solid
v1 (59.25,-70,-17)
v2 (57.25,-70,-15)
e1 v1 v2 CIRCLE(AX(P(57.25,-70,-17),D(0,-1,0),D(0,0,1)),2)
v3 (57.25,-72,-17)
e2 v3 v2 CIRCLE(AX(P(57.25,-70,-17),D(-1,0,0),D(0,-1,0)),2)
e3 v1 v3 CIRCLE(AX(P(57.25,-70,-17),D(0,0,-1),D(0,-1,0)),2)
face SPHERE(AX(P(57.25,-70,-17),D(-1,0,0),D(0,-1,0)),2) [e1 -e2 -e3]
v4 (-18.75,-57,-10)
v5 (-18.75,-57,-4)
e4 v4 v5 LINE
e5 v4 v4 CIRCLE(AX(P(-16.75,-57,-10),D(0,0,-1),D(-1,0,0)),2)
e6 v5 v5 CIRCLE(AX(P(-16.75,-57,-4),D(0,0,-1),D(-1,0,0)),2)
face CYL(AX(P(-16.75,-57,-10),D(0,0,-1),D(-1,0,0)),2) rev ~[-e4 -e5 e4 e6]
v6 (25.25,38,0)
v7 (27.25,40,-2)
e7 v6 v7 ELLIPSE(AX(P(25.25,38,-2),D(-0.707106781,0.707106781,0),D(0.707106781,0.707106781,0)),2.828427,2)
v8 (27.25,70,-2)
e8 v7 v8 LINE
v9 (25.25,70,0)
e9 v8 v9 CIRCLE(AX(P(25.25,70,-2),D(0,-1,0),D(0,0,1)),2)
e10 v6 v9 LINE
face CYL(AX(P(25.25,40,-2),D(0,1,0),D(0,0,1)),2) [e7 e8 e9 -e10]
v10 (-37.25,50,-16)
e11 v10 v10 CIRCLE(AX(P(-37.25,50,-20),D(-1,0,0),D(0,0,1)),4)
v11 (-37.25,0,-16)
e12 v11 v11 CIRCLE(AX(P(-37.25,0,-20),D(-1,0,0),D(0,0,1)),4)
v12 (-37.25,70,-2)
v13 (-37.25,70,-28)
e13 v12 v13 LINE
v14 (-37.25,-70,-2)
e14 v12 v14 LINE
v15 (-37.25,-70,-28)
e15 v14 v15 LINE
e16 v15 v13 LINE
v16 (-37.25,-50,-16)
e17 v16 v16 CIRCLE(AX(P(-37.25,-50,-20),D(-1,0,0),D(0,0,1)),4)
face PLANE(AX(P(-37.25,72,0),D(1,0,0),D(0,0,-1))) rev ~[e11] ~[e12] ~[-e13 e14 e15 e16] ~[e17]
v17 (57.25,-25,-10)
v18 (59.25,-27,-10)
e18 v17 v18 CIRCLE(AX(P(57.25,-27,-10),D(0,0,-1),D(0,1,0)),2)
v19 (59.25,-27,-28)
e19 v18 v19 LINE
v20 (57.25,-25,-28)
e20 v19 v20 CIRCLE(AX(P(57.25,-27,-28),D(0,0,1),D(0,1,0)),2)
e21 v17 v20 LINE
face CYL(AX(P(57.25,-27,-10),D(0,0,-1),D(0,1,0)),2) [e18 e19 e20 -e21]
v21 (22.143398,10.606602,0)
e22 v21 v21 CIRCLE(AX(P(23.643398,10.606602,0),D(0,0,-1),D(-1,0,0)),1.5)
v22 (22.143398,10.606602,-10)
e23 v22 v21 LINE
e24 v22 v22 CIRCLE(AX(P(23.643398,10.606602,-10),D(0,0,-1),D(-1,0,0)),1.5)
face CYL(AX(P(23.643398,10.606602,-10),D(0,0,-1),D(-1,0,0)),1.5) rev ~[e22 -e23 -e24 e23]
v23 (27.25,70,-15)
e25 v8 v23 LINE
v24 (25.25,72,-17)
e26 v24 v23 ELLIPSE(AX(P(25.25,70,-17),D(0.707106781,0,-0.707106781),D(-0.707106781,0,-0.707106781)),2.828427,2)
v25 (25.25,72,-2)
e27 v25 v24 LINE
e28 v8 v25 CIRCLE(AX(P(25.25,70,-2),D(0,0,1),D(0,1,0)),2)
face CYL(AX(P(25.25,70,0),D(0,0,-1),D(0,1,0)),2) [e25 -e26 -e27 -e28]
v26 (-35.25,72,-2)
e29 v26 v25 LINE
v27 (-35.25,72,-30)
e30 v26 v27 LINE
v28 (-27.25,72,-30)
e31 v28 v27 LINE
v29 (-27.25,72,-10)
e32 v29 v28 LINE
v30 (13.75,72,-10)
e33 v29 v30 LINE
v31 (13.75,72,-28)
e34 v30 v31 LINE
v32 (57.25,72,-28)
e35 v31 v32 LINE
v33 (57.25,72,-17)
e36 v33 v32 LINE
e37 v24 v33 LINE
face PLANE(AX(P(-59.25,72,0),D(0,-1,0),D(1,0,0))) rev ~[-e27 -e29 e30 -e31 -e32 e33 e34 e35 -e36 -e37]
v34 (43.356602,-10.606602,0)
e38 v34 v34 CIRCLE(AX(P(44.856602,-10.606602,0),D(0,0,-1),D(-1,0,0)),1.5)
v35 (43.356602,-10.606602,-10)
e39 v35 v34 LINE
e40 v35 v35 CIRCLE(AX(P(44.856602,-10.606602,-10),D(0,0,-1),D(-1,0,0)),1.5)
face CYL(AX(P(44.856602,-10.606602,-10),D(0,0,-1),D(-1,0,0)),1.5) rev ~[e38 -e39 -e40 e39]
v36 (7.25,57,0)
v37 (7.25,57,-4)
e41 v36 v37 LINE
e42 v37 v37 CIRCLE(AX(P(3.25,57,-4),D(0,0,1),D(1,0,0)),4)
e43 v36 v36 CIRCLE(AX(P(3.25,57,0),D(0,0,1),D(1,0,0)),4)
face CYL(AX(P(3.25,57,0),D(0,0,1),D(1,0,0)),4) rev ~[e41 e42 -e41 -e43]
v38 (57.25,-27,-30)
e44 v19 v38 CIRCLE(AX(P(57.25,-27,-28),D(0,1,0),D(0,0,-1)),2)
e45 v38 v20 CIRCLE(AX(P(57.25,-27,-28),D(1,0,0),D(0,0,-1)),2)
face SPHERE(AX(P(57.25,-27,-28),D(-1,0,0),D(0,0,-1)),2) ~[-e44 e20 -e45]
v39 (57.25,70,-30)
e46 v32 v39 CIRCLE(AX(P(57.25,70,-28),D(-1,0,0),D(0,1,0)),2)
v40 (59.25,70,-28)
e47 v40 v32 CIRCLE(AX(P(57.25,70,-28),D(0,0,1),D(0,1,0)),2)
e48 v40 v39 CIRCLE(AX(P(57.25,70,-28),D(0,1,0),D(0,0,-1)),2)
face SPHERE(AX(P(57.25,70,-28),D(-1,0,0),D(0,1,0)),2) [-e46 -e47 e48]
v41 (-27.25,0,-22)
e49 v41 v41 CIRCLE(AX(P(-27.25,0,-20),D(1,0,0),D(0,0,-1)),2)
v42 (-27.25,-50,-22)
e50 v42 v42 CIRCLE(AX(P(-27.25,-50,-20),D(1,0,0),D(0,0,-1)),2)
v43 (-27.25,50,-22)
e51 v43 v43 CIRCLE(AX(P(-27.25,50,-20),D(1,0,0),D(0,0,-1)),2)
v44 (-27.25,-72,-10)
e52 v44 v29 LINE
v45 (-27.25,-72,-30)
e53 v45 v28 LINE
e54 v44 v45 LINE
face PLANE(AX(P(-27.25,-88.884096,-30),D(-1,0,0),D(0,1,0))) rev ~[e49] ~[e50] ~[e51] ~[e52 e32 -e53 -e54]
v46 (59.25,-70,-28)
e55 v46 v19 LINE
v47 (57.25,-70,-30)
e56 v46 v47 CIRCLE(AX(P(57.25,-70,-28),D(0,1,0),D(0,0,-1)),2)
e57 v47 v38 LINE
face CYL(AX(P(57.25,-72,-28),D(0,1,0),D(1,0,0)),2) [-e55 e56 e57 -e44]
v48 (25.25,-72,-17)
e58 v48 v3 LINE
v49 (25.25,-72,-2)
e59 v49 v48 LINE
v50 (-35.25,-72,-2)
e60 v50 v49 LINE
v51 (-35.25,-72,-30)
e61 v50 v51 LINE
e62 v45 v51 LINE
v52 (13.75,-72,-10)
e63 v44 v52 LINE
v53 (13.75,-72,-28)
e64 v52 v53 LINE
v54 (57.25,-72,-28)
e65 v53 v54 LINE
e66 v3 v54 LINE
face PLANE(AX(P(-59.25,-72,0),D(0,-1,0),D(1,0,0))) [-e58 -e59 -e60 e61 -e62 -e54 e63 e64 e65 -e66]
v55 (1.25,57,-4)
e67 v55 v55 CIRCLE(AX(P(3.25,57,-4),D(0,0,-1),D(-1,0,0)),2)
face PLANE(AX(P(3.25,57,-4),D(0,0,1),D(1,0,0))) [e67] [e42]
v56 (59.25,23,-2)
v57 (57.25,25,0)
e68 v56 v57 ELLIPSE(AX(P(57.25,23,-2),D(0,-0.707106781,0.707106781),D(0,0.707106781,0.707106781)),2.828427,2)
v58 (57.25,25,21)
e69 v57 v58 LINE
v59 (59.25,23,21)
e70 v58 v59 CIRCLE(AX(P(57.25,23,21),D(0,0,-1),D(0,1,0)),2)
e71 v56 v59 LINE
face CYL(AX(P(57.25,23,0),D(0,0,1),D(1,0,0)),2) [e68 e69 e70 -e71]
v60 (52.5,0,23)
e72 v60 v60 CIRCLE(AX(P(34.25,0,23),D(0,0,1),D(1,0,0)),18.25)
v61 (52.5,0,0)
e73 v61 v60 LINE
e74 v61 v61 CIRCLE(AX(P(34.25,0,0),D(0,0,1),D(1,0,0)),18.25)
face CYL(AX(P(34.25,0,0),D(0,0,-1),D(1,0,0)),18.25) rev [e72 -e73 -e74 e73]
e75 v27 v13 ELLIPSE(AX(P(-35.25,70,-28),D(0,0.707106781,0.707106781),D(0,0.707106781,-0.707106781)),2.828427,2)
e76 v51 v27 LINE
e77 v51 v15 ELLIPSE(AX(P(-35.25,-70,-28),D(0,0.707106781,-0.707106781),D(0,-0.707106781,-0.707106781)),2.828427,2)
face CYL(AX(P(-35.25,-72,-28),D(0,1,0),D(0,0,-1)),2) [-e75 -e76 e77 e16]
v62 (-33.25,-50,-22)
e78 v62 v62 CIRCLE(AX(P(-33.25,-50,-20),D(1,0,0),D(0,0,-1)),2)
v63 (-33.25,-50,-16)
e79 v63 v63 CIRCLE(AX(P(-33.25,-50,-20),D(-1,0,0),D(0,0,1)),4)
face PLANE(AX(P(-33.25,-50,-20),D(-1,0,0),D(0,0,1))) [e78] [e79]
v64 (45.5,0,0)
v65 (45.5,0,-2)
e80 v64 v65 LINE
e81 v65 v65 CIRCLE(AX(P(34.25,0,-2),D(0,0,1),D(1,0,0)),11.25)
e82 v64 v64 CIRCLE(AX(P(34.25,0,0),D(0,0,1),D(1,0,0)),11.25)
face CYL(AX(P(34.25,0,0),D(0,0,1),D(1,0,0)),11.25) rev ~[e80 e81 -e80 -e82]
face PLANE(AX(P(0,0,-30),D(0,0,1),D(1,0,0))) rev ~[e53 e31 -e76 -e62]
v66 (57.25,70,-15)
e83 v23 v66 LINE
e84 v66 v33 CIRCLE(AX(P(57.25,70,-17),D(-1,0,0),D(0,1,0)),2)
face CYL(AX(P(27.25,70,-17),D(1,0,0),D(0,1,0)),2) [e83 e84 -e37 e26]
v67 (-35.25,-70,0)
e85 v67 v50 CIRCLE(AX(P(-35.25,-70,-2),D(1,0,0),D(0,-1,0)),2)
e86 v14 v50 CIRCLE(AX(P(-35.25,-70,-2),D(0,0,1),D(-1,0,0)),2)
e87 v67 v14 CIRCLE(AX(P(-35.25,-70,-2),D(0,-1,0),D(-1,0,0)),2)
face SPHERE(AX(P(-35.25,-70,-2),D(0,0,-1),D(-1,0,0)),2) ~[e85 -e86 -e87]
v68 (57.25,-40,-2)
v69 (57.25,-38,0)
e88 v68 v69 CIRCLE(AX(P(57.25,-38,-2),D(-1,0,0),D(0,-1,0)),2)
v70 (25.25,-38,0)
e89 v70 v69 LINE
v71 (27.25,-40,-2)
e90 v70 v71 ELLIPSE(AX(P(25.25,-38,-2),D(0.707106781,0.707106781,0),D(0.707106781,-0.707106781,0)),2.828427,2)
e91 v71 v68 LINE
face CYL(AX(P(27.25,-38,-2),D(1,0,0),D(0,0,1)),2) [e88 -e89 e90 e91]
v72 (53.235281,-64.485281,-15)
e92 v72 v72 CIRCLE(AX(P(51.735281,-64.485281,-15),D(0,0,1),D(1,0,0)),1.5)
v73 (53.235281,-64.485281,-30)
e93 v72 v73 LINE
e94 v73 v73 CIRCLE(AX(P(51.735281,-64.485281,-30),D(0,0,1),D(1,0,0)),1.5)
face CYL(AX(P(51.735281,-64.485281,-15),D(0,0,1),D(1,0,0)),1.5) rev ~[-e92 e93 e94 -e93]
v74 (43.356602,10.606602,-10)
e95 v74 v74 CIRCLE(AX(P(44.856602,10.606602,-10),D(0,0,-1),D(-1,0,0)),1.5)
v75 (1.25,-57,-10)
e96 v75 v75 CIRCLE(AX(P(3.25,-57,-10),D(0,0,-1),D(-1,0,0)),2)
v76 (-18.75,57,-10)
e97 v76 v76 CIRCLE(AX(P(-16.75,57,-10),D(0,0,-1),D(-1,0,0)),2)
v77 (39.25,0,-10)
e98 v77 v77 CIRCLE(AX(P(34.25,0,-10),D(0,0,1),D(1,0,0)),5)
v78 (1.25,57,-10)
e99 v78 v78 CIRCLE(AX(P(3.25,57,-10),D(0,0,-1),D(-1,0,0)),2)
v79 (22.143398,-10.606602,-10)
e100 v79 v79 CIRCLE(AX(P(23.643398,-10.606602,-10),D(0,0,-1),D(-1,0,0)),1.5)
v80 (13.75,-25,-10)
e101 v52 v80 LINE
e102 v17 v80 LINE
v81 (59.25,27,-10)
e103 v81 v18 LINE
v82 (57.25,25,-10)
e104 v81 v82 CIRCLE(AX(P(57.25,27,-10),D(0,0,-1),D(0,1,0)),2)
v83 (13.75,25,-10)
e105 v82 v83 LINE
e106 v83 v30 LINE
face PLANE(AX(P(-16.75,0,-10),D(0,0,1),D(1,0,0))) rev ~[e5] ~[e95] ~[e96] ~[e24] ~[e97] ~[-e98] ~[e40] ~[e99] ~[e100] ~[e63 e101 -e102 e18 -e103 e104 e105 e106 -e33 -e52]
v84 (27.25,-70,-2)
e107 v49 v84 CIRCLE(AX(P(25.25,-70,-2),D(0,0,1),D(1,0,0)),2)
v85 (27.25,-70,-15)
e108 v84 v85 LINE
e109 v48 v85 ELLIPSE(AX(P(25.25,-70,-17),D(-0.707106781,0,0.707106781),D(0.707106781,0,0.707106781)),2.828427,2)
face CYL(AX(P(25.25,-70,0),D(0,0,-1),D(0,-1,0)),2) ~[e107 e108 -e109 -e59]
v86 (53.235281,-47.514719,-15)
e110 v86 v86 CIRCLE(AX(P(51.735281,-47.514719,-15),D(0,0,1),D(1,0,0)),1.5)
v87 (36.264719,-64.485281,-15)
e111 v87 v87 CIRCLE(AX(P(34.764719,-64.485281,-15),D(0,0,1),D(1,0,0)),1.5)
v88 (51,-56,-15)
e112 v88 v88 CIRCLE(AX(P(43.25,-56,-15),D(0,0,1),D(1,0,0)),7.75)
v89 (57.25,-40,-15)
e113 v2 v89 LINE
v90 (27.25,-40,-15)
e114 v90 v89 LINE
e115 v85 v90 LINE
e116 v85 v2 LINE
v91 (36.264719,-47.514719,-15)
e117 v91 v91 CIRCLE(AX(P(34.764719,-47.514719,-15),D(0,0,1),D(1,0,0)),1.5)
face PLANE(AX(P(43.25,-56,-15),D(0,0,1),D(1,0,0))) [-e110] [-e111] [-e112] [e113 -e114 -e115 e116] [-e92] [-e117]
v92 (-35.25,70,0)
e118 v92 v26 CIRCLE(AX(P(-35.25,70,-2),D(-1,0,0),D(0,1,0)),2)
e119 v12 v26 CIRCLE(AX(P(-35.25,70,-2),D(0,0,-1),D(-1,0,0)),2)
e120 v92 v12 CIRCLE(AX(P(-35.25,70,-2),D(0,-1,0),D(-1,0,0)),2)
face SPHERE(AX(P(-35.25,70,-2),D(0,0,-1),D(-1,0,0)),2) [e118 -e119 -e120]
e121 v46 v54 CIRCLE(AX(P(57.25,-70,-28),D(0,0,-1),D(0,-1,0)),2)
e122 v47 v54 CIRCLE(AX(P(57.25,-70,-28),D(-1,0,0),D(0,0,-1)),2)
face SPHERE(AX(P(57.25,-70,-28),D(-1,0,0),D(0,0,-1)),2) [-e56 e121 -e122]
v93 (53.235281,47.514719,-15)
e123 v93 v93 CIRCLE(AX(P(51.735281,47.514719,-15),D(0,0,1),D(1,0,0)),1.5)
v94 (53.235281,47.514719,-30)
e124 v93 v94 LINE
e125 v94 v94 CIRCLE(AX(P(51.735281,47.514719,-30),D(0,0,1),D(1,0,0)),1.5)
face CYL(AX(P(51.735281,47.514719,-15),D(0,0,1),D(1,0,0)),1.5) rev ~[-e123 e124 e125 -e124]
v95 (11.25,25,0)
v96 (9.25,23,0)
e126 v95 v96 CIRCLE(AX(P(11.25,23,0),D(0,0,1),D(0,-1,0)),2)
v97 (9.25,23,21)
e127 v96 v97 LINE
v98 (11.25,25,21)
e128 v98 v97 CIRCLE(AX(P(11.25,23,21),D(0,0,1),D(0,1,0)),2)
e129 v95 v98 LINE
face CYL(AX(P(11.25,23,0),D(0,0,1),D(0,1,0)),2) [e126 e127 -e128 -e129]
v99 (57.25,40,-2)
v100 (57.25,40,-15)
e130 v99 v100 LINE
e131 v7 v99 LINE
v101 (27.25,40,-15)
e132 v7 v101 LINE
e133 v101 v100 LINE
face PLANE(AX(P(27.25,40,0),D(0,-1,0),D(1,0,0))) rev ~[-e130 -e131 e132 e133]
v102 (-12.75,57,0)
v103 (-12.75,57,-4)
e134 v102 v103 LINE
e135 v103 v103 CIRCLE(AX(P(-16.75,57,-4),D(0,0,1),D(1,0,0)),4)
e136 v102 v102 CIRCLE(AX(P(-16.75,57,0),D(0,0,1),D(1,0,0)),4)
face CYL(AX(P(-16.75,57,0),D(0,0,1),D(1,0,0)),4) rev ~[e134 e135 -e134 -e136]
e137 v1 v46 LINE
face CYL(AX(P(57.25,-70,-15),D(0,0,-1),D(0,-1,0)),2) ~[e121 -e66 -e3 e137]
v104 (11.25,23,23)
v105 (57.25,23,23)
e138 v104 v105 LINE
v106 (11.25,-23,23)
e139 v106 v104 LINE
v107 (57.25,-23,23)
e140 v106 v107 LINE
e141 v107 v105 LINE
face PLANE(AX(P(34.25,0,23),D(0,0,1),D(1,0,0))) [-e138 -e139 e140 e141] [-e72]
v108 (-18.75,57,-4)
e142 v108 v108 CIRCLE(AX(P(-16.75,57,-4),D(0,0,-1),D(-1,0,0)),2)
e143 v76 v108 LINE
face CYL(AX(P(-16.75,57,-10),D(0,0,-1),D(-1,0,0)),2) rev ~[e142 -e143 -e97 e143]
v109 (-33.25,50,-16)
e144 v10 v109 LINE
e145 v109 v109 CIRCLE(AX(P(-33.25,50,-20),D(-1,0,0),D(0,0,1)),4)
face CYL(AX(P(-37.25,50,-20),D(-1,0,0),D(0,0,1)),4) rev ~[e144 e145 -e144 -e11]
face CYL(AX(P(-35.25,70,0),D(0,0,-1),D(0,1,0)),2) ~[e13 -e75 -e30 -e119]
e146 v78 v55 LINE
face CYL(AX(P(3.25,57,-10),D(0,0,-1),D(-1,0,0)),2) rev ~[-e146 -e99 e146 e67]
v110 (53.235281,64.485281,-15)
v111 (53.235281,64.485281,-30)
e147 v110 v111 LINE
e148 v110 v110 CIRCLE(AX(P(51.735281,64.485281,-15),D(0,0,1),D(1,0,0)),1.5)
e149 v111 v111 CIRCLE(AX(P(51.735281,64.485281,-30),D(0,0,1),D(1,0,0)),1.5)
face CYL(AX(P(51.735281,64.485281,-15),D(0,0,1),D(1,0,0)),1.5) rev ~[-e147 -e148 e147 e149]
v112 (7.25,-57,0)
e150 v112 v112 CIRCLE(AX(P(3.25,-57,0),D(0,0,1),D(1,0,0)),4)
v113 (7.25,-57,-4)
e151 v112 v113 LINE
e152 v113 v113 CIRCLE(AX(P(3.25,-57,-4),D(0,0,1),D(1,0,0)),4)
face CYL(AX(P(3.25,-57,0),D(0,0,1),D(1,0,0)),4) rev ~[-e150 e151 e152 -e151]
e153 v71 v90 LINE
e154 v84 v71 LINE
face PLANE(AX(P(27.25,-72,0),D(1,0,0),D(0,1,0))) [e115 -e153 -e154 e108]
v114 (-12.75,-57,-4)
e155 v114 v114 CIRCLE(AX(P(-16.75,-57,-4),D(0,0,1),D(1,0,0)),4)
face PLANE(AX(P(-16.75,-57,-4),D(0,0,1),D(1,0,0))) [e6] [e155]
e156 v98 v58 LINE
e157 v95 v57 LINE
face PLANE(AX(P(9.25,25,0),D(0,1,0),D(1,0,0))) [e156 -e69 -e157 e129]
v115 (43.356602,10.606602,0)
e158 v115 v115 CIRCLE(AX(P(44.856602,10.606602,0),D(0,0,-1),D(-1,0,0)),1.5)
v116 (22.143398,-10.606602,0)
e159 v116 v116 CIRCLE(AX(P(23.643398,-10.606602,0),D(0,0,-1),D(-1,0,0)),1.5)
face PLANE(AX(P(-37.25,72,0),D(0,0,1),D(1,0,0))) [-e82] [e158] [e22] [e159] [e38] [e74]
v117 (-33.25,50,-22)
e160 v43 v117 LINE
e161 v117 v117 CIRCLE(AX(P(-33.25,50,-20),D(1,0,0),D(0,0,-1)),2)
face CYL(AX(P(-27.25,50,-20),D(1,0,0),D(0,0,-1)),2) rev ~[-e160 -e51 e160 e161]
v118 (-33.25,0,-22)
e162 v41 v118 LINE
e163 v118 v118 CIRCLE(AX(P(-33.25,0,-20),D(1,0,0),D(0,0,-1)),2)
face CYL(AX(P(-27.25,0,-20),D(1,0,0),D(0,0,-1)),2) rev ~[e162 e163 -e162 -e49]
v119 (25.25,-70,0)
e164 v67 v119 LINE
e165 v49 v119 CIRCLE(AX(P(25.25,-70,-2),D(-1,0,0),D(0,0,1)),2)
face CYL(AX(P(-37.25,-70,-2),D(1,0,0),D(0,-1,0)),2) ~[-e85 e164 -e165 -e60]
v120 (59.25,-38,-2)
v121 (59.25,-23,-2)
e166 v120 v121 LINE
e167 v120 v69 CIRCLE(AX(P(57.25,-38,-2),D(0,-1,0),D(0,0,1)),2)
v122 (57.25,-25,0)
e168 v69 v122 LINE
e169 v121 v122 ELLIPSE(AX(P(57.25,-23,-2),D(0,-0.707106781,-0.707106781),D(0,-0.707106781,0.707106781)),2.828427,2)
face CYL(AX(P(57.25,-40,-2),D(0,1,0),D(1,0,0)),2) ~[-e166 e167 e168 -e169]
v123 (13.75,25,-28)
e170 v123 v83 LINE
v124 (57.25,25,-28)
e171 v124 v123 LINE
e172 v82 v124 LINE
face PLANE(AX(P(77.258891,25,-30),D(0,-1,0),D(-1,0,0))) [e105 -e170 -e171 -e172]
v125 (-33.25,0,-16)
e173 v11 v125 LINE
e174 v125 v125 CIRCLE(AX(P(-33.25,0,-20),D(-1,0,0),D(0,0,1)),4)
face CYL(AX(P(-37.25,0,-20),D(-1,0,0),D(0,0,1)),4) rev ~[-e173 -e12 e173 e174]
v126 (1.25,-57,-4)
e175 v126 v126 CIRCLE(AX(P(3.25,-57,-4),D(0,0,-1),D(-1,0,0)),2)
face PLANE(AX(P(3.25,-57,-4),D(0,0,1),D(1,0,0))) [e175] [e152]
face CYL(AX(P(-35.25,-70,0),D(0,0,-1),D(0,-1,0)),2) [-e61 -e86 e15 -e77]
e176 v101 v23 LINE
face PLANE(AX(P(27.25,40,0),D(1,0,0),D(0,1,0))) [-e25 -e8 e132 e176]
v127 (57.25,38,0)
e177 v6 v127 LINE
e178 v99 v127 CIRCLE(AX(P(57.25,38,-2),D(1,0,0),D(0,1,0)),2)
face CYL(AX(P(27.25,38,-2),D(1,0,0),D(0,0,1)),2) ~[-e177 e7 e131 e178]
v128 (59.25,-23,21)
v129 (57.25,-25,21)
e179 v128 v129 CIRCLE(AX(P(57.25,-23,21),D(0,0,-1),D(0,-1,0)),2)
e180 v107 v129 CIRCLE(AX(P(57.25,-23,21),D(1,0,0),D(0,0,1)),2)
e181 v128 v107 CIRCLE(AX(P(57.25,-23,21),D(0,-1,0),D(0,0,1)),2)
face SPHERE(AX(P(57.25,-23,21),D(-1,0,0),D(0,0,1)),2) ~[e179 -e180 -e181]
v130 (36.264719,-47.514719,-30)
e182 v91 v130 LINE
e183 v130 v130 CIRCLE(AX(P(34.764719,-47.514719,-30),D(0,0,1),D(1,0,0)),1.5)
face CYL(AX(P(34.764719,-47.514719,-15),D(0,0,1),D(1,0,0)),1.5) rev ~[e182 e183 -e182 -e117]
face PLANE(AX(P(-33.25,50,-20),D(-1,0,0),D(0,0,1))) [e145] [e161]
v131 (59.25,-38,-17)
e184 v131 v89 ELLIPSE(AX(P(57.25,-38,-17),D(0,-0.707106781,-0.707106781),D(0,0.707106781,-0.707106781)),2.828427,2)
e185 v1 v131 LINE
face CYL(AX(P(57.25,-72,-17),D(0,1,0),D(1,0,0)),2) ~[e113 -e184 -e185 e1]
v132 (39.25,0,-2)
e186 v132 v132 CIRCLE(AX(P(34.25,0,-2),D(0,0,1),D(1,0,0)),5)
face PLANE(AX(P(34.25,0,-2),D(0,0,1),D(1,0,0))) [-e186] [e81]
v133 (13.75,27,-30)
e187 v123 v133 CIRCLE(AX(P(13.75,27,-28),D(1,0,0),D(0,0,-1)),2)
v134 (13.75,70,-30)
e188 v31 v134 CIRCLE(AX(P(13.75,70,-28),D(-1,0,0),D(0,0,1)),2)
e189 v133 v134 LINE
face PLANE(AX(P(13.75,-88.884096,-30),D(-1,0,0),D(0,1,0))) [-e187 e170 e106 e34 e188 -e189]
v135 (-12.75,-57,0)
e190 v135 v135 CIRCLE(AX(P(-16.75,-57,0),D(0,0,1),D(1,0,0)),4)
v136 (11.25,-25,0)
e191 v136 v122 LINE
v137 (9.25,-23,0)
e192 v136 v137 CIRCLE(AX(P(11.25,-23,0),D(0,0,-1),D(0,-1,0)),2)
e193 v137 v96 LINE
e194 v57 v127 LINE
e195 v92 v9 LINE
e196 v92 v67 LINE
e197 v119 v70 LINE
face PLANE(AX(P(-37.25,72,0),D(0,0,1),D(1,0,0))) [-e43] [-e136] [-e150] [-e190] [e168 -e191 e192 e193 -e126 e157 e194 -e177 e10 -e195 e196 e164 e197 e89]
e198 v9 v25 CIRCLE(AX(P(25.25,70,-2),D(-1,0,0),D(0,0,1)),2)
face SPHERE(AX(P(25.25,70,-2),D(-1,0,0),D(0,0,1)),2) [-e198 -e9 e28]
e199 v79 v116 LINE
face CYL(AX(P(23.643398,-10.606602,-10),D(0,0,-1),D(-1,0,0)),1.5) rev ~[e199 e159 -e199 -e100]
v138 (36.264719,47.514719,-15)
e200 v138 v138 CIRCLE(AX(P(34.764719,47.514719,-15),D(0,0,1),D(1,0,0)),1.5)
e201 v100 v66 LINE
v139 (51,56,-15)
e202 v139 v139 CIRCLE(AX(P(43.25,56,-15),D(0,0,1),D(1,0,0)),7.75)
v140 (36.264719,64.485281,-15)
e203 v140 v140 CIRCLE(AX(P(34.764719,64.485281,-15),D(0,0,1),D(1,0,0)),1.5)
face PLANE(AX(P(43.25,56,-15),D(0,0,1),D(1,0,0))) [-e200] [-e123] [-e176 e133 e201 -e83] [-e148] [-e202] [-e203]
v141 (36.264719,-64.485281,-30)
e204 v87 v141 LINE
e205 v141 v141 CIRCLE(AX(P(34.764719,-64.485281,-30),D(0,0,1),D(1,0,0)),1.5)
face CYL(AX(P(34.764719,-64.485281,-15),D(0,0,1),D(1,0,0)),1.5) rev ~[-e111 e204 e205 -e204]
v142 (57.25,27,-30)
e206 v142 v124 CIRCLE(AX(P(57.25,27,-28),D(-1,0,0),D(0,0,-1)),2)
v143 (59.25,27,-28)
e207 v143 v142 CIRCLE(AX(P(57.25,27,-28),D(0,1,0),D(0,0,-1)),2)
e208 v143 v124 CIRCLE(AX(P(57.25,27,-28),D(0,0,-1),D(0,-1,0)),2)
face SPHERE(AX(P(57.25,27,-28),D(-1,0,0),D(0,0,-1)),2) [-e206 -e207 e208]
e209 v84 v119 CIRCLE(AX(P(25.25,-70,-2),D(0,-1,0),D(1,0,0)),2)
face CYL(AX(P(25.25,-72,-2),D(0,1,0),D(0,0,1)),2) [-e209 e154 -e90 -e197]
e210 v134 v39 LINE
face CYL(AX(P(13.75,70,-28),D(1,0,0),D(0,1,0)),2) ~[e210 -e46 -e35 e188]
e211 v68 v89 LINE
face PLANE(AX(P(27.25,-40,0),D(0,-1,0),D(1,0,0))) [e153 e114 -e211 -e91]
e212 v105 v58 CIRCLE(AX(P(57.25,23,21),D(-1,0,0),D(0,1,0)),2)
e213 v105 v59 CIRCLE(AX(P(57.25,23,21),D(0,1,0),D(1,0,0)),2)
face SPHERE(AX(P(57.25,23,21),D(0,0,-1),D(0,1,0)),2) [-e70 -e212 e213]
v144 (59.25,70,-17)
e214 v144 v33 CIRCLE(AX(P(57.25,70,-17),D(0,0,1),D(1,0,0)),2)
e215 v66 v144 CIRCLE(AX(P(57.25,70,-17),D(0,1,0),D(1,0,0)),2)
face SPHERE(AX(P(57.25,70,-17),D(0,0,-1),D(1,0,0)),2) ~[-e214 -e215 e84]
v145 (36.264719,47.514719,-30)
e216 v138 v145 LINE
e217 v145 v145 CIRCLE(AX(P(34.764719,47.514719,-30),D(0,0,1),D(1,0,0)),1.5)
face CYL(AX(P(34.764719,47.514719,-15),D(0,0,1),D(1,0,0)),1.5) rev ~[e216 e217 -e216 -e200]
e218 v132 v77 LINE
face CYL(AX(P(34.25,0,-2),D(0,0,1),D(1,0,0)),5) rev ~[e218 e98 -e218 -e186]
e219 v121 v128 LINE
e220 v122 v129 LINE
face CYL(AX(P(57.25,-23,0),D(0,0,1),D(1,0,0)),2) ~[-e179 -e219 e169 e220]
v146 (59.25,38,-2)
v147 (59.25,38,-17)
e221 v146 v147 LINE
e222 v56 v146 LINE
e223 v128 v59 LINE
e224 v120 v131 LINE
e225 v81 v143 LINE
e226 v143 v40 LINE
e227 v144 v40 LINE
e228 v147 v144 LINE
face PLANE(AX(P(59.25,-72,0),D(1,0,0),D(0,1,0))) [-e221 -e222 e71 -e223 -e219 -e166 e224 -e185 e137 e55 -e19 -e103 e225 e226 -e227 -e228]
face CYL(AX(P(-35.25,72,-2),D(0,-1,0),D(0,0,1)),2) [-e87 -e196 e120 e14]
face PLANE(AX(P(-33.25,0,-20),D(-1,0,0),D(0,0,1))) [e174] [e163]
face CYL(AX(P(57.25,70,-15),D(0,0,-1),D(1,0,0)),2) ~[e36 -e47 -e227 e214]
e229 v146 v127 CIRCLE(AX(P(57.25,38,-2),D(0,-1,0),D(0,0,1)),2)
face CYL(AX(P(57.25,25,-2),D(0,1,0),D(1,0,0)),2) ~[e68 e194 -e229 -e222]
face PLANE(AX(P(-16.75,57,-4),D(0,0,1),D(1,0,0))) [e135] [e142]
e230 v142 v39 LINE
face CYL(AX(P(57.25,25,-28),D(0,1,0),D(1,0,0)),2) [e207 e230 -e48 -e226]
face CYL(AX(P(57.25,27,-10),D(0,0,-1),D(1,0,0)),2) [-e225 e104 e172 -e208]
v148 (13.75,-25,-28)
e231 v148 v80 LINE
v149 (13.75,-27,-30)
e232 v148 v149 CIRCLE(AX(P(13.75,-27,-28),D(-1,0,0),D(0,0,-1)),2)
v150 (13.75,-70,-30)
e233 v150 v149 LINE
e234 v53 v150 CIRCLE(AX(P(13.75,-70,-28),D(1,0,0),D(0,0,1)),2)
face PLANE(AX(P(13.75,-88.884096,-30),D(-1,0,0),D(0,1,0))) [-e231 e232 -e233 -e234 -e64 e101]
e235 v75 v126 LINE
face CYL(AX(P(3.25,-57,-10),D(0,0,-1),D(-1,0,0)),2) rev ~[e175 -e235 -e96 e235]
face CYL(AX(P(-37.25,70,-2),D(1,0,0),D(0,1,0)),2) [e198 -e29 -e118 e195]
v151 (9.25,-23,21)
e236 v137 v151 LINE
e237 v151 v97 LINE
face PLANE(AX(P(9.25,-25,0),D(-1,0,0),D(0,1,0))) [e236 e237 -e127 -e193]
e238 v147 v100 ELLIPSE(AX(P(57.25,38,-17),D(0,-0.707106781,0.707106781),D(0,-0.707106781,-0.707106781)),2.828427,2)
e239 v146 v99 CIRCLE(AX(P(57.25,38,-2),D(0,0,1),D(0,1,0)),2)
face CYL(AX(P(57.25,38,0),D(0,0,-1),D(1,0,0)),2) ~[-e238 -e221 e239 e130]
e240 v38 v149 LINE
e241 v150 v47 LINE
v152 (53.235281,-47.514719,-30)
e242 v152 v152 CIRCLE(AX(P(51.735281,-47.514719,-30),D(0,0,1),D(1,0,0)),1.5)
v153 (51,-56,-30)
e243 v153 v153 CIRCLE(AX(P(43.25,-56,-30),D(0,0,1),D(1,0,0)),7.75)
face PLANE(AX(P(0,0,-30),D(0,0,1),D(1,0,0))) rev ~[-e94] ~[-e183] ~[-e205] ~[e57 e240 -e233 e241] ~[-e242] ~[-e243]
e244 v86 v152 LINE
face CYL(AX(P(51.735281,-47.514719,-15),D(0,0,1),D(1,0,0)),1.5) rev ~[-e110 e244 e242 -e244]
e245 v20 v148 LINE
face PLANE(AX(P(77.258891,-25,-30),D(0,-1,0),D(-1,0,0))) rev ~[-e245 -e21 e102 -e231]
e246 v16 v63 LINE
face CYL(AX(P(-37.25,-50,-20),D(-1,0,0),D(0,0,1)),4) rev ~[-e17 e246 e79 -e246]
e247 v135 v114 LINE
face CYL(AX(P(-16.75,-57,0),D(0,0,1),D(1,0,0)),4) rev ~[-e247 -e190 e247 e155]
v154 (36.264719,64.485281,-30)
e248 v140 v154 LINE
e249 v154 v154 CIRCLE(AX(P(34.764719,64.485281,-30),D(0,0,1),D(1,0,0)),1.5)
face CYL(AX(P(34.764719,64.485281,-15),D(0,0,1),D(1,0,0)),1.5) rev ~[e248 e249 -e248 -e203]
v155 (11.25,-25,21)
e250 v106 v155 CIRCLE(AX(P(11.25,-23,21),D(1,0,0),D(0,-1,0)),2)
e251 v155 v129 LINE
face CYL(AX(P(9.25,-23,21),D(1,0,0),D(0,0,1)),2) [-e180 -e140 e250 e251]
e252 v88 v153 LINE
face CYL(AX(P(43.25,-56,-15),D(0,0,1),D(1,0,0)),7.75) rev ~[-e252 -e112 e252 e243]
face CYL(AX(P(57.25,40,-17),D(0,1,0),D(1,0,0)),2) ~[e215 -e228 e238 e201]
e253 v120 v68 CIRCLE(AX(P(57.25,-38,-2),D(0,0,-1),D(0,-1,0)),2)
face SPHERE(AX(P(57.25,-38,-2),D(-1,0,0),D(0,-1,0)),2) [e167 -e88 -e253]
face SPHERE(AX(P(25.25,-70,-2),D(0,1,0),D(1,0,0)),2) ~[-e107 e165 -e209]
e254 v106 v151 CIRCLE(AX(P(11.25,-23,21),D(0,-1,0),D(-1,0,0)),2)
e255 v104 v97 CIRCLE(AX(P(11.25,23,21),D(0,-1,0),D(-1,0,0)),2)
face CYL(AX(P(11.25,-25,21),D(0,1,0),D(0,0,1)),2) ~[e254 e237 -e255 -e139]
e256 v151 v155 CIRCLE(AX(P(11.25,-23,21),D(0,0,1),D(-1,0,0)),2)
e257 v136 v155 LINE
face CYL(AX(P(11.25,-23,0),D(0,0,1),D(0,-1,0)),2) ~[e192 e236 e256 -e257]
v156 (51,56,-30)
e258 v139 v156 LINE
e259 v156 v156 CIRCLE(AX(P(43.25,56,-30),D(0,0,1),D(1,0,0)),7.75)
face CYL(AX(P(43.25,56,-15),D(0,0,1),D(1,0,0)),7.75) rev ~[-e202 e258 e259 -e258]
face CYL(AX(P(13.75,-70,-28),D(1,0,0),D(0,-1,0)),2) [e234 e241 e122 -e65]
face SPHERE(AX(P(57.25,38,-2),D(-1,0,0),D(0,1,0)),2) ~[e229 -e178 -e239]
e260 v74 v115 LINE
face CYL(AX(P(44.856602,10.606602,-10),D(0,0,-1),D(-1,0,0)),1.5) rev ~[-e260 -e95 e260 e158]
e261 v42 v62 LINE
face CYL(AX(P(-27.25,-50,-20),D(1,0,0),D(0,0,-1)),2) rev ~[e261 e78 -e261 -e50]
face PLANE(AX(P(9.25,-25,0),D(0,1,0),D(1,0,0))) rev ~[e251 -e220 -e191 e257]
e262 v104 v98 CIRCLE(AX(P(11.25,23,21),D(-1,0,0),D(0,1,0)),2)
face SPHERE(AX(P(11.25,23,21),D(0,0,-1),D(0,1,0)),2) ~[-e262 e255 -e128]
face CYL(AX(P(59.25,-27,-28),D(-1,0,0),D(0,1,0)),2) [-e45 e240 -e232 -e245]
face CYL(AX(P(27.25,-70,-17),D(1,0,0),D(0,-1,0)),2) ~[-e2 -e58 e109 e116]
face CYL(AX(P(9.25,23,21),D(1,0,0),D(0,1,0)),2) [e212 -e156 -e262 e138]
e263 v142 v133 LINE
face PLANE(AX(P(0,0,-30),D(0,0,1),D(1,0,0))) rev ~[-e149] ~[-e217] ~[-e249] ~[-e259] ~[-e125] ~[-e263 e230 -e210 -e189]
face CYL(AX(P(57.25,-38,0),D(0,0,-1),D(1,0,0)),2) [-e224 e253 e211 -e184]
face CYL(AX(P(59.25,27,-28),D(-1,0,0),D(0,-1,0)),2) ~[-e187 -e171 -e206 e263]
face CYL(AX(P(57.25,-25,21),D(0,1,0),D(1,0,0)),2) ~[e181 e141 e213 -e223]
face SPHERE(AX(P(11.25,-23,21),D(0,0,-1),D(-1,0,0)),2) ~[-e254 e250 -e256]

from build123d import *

# Parameters (mm, degrees)
SKETCH3_W           = 118.5
SKETCH3_H           = 144
BOSS_EXTRUDE1_DEPTH = 30
SKETCH4_R           = 11
CUT_EXTRUDE1_DEPTH  = 2
SKETCH5_R           = 4
CUT_EXTRUDE2_DEPTH  = 30
SKETCH7_W           = 41
SKETCH7_H           = 177.768192582
CUT_EXTRUDE4_DEPTH  = 20
SKETCH8_W           = 86.017782004
SKETCH8_H           = 50
CUT_EXTRUDE5_DEPTH  = 20
SKETCH9_R           = 7.5
CUT_EXTRUDE6_DEPTH  = 30
SKETCH10_W          = 32
SKETCH10_H          = 32
CUT_EXTRUDE7_DEPTH  = 15
SKETCH14_R          = 2
CUT_EXTRUDE10_DEPTH = 15
SKETCH15_R          = 2
CUT_EXTRUDE11_DEPTH = 34
SKETCH16_R          = 4
CUT_EXTRUDE12_DEPTH = 26
SKETCH17_W          = 32
SKETCH17_H          = 32
BOSS_EXTRUDE2_DEPTH = 15
SKETCH18_W          = 10
SKETCH18_H          = 30
BOSS_EXTRUDE3_DEPTH = 144
SKETCH19_W          = 22
SKETCH19_H          = 30
CUT_EXTRUDE13_DEPTH = 144
SKETCH20_R          = 2
CUT_EXTRUDE14_DEPTH = 10
SKETCH21_R          = 7.75
CUT_EXTRUDE15_DEPTH = 15
SKETCH22_R          = 4
CUT_EXTRUDE16_DEPTH = 4
SKETCH23_R          = 4
CUT_EXTRUDE17_DEPTH = 4
BOSS_EXTRUDE4_START = -10
SKETCH24_R          = 2
BOSS_EXTRUDE4_DEPTH = 10
SKETCH25_R          = 5
CUT_EXTRUDE18_DEPTH = 10
SKETCH26_R          = 1.5
CUT_EXTRUDE19_DEPTH = 15
SKETCH27_R          = 11.25
CUT_EXTRUDE20_DEPTH = 2
SKETCH28_W          = 50
SKETCH28_H          = 50
SKETCH28_R          = 18.25
BOSS_EXTRUDE5_DEPTH = 23
SKETCH29_R          = 1.5
CUT_EXTRUDE21_DEPTH = 10
FILLET1_R           = 2


with BuildPart() as part:
    # Sketch3 → Boss-Extrude1 (new body)
    with BuildSketch(Plane.XY):
        Rectangle(SKETCH3_W, SKETCH3_H)
    extrude(amount=-BOSS_EXTRUDE1_DEPTH)

    # Sketch4 → Cut-Extrude1 (cut)
    with BuildSketch(Plane.XY):
        with Locations((34.25, 0)):
            Circle(SKETCH4_R)
    extrude(amount=-CUT_EXTRUDE1_DEPTH, mode=Mode.SUBTRACT)

    # Sketch5 → Cut-Extrude2 (cut)
    with BuildSketch(Plane.XY.offset(-2)):
        with Locations((34.25, 0)):
            Circle(SKETCH5_R)
    extrude(amount=-CUT_EXTRUDE2_DEPTH, mode=Mode.SUBTRACT)

    # Sketch7 → Cut-Extrude4 (cut)
    with BuildSketch(Plane(origin=(0, 0, -30), x_dir=(-1, 0, 0), z_dir=(0, 0, -1))):
        with Locations((6.75, 0)):
            Rectangle(SKETCH7_W, SKETCH7_H)
    extrude(amount=-CUT_EXTRUDE4_DEPTH, mode=Mode.SUBTRACT)

    # Sketch8 → Cut-Extrude5 (cut)
    with BuildSketch(Plane(origin=(0, 0, -30), x_dir=(-1, 0, 0), z_dir=(0, 0, -1))):
        with Locations((-34.25, 0)):
            Rectangle(SKETCH8_W, SKETCH8_H)
    extrude(amount=-CUT_EXTRUDE5_DEPTH, mode=Mode.SUBTRACT)

    # Sketch9 → Cut-Extrude6 (cut)
    with BuildSketch(Plane.XY):
        with Locations((-43.25, 0)):
            Circle(SKETCH9_R)
        with Locations((43.25, -56)):
            Circle(SKETCH9_R)
        with Locations((43.25, 56)):
            Circle(SKETCH9_R)
    extrude(amount=-CUT_EXTRUDE6_DEPTH, mode=Mode.SUBTRACT)

    # Sketch10 → Cut-Extrude7 (cut)
    with BuildSketch(Plane.XY):
        with Locations((-43.25, 0)):
            Rectangle(SKETCH10_W, SKETCH10_H)
        with Locations((43.25, 56)):
            Rectangle(SKETCH10_W, SKETCH10_H)
        with Locations((43.25, -56)):
            Rectangle(SKETCH10_W, SKETCH10_H)
    extrude(amount=-CUT_EXTRUDE7_DEPTH, mode=Mode.SUBTRACT)

    # Sketch14 → Cut-Extrude10 (cut)
    with BuildSketch(Plane(origin=(0, 0, -10), x_dir=(-1, 0, 0), z_dir=(0, 0, -1))):
        with Locations((16.75, 0)):
            Circle(SKETCH14_R)
        with Locations((-3.25, 0)):
            Circle(SKETCH14_R)
        with Locations((16.75, 57)):
            Circle(SKETCH14_R)
        with Locations((-3.25, 57)):
            Circle(SKETCH14_R)
        with Locations((16.75, -57)):
            Circle(SKETCH14_R)
        with Locations((-3.25, -57)):
            Circle(SKETCH14_R)
    extrude(amount=-CUT_EXTRUDE10_DEPTH, mode=Mode.SUBTRACT)

    # Sketch15 → Cut-Extrude11 (cut)
    with BuildSketch(Plane.ZY.offset(59.25)):
        with Locations((-20, 44)):
            Circle(SKETCH15_R)
        with Locations((-20, -44)):
            Circle(SKETCH15_R)
    extrude(amount=-CUT_EXTRUDE11_DEPTH, mode=Mode.SUBTRACT)

    # Sketch16 → Cut-Extrude12 (cut)
    with BuildSketch(Plane.ZY.offset(59.25)):
        with Locations((-20, 44)):
            Circle(SKETCH16_R)
        with Locations((-20, -44)):
            Circle(SKETCH16_R)
    extrude(amount=-CUT_EXTRUDE12_DEPTH, mode=Mode.SUBTRACT)

    # Sketch17 → Boss-Extrude2 (add)
    with BuildSketch(Plane.XY.offset(-15)):
        with Locations((-43.25, 0)):
            Rectangle(SKETCH17_W, SKETCH17_H)
    extrude(amount=BOSS_EXTRUDE2_DEPTH)

    # Sketch18 → Boss-Extrude3 (add)
    with BuildSketch(Plane(origin=(0, 72, 0), x_dir=(1, 0, 0), z_dir=(0, 1, 0))):
        with Locations((-32.25, 15)):
            Rectangle(SKETCH18_W, SKETCH18_H)
    extrude(amount=-BOSS_EXTRUDE3_DEPTH)

    # Sketch19 → Cut-Extrude13 (cut)
    with BuildSketch(Plane(origin=(0, 72, 0), x_dir=(1, 0, 0), z_dir=(0, 1, 0))):
        with Locations((-48.25, 15)):
            Rectangle(SKETCH19_W, SKETCH19_H)
    extrude(amount=-CUT_EXTRUDE13_DEPTH, mode=Mode.SUBTRACT)

    # Sketch20 → Cut-Extrude14 (cut)
    with BuildSketch(Plane(origin=(-27.25, 0, 0), x_dir=(0, 0, -1), z_dir=(1, 0, 0))):
        with Locations((20, -50)):
            Circle(SKETCH20_R)
        with Locations((20, 0)):
            Circle(SKETCH20_R)
        with Locations((20, 50)):
            Circle(SKETCH20_R)
    extrude(amount=-CUT_EXTRUDE14_DEPTH, mode=Mode.SUBTRACT)

    # Sketch21 → Cut-Extrude15 (cut)
    with BuildSketch(Plane.XY.offset(-15)):
        with Locations((43.25, -56)):
            Circle(SKETCH21_R)
        with Locations((43.25, 56)):
            Circle(SKETCH21_R)
    extrude(amount=-CUT_EXTRUDE15_DEPTH, mode=Mode.SUBTRACT)

    # Sketch22 → Cut-Extrude16 (cut)
    with BuildSketch(Plane.ZY.offset(37.25)):
        with Locations((-20, 50)):
            Circle(SKETCH22_R)
        with Locations((-20, 0)):
            Circle(SKETCH22_R)
        with Locations((-20, -50)):
            Circle(SKETCH22_R)
    extrude(amount=-CUT_EXTRUDE16_DEPTH, mode=Mode.SUBTRACT)

    # Sketch23 → Cut-Extrude17 (cut)
    with BuildSketch(Plane.XY):
        with Locations((-16.75, 57)):
            Circle(SKETCH23_R)
        with Locations((3.25, 57)):
            Circle(SKETCH23_R)
        with Locations((-16.75, -57)):
            Circle(SKETCH23_R)
        with Locations((3.25, -57)):
            Circle(SKETCH23_R)
    extrude(amount=-CUT_EXTRUDE17_DEPTH, mode=Mode.SUBTRACT)

    # Sketch24 → Boss-Extrude4 (add)
    with BuildSketch(Plane.XY.offset(BOSS_EXTRUDE4_START)):
        with Locations((-16.75, 0)):
            Circle(SKETCH24_R)
        with Locations((3.25, 0)):
            Circle(SKETCH24_R)
    extrude(amount=BOSS_EXTRUDE4_DEPTH)

    # Sketch25 → Cut-Extrude18 (cut)
    with BuildSketch(Plane.XY.offset(-2)):
        with Locations((34.25, 0)):
            Circle(SKETCH25_R)
    extrude(amount=-CUT_EXTRUDE18_DEPTH, mode=Mode.SUBTRACT)

    # Sketch26 → Cut-Extrude19 (cut)
    with BuildSketch(Plane.XY.offset(-15)):
        with Locations((34.764718626, -64.485281374)):
            Circle(SKETCH26_R)
        with Locations((34.764718626, -47.514718626)):
            Circle(SKETCH26_R)
        with Locations((51.735281374, -47.514718626)):
            Circle(SKETCH26_R)
        with Locations((51.735281374, -64.485281374)):
            Circle(SKETCH26_R)
        with Locations((34.764718626, 47.514718626)):
            Circle(SKETCH26_R)
        with Locations((51.735281374, 47.514718626)):
            Circle(SKETCH26_R)
        with Locations((51.735281374, 64.485281374)):
            Circle(SKETCH26_R)
        with Locations((34.764718626, 64.485281374)):
            Circle(SKETCH26_R)
    extrude(amount=-CUT_EXTRUDE19_DEPTH, mode=Mode.SUBTRACT)

    # Sketch27 → Cut-Extrude20 (cut)
    with BuildSketch(Plane.XY):
        with Locations((34.25, 0)):
            Circle(SKETCH27_R)
    extrude(amount=-CUT_EXTRUDE20_DEPTH, mode=Mode.SUBTRACT)

    # Sketch28 → Boss-Extrude5 (add)
    with BuildSketch(Plane.XY):
        with Locations((34.25, 0)):
            Rectangle(SKETCH28_W, SKETCH28_H)
        with Locations((34.25, 0)):
            Circle(SKETCH28_R, mode=Mode.SUBTRACT)
    extrude(amount=BOSS_EXTRUDE5_DEPTH)

    # Sketch29 → Cut-Extrude21 (cut)
    with BuildSketch(Plane(origin=(0, 0, -10), x_dir=(-1, 0, 0), z_dir=(0, 0, -1))):
        with Locations((-23.643398282, 10.606601718)):
            Circle(SKETCH29_R)
        with Locations((-23.643398282, -10.606601718)):
            Circle(SKETCH29_R)
        with Locations((-44.856601718, 10.606601718)):
            Circle(SKETCH29_R)
        with Locations((-44.856601718, -10.606601718)):
            Circle(SKETCH29_R)
    extrude(amount=-CUT_EXTRUDE21_DEPTH, mode=Mode.SUBTRACT)

    # Fillet1
    fillet1_edges = [part.edges().sort_by_distance(p)[0] for p in [
        (-37.25, 72, -15),
        (-37.25, -72, -15),
        (-37.25, 0, -30),
        (-37.25, 0, 0),
        (43.25, -72, -15),
        (36.5, -72, -30),
        (36.5, -25, -30),
        (36.5, 25, -30),
        (36.5, 72, -30),
        (-5, 72, 0),
        (27.25, 56, 0),
        (43.25, 40, 0),
        (59.25, 25, 11.5),
        (9.25, 25, 11.5),
        (9.25, -25, 11.5),
        (34.25, 25, 23),
        (9.25, 0, 23),
        (34.25, -25, 23),
        (59.25, 0, 23),
        (59.25, -25, 11.5),
        (43.25, -40, 0),
        (27.25, -56, 0),
        (27.25, -72, -7.5),
        (59.25, -40, -7.5),
        (27.25, 72, -7.5),
        (59.25, 40, -7.5),
        (59.25, 72, -22.5),
        (59.25, 48.5, -30),
        (59.25, 25, -20),
        (59.25, -48.5, -30),
        (59.25, -25, -20),
        (59.25, -72, -22.5),
        (-5, -72, 0),
        (59.25, -56, -15),
        (59.25, 56, -15),
        (59.25, 32.5, 0),
        (59.25, -32.5, 0),
        (43.25, 72, -15),
    ]]
    fillet(fillet1_edges, radius=FILLET1_R)


solid = part.part
